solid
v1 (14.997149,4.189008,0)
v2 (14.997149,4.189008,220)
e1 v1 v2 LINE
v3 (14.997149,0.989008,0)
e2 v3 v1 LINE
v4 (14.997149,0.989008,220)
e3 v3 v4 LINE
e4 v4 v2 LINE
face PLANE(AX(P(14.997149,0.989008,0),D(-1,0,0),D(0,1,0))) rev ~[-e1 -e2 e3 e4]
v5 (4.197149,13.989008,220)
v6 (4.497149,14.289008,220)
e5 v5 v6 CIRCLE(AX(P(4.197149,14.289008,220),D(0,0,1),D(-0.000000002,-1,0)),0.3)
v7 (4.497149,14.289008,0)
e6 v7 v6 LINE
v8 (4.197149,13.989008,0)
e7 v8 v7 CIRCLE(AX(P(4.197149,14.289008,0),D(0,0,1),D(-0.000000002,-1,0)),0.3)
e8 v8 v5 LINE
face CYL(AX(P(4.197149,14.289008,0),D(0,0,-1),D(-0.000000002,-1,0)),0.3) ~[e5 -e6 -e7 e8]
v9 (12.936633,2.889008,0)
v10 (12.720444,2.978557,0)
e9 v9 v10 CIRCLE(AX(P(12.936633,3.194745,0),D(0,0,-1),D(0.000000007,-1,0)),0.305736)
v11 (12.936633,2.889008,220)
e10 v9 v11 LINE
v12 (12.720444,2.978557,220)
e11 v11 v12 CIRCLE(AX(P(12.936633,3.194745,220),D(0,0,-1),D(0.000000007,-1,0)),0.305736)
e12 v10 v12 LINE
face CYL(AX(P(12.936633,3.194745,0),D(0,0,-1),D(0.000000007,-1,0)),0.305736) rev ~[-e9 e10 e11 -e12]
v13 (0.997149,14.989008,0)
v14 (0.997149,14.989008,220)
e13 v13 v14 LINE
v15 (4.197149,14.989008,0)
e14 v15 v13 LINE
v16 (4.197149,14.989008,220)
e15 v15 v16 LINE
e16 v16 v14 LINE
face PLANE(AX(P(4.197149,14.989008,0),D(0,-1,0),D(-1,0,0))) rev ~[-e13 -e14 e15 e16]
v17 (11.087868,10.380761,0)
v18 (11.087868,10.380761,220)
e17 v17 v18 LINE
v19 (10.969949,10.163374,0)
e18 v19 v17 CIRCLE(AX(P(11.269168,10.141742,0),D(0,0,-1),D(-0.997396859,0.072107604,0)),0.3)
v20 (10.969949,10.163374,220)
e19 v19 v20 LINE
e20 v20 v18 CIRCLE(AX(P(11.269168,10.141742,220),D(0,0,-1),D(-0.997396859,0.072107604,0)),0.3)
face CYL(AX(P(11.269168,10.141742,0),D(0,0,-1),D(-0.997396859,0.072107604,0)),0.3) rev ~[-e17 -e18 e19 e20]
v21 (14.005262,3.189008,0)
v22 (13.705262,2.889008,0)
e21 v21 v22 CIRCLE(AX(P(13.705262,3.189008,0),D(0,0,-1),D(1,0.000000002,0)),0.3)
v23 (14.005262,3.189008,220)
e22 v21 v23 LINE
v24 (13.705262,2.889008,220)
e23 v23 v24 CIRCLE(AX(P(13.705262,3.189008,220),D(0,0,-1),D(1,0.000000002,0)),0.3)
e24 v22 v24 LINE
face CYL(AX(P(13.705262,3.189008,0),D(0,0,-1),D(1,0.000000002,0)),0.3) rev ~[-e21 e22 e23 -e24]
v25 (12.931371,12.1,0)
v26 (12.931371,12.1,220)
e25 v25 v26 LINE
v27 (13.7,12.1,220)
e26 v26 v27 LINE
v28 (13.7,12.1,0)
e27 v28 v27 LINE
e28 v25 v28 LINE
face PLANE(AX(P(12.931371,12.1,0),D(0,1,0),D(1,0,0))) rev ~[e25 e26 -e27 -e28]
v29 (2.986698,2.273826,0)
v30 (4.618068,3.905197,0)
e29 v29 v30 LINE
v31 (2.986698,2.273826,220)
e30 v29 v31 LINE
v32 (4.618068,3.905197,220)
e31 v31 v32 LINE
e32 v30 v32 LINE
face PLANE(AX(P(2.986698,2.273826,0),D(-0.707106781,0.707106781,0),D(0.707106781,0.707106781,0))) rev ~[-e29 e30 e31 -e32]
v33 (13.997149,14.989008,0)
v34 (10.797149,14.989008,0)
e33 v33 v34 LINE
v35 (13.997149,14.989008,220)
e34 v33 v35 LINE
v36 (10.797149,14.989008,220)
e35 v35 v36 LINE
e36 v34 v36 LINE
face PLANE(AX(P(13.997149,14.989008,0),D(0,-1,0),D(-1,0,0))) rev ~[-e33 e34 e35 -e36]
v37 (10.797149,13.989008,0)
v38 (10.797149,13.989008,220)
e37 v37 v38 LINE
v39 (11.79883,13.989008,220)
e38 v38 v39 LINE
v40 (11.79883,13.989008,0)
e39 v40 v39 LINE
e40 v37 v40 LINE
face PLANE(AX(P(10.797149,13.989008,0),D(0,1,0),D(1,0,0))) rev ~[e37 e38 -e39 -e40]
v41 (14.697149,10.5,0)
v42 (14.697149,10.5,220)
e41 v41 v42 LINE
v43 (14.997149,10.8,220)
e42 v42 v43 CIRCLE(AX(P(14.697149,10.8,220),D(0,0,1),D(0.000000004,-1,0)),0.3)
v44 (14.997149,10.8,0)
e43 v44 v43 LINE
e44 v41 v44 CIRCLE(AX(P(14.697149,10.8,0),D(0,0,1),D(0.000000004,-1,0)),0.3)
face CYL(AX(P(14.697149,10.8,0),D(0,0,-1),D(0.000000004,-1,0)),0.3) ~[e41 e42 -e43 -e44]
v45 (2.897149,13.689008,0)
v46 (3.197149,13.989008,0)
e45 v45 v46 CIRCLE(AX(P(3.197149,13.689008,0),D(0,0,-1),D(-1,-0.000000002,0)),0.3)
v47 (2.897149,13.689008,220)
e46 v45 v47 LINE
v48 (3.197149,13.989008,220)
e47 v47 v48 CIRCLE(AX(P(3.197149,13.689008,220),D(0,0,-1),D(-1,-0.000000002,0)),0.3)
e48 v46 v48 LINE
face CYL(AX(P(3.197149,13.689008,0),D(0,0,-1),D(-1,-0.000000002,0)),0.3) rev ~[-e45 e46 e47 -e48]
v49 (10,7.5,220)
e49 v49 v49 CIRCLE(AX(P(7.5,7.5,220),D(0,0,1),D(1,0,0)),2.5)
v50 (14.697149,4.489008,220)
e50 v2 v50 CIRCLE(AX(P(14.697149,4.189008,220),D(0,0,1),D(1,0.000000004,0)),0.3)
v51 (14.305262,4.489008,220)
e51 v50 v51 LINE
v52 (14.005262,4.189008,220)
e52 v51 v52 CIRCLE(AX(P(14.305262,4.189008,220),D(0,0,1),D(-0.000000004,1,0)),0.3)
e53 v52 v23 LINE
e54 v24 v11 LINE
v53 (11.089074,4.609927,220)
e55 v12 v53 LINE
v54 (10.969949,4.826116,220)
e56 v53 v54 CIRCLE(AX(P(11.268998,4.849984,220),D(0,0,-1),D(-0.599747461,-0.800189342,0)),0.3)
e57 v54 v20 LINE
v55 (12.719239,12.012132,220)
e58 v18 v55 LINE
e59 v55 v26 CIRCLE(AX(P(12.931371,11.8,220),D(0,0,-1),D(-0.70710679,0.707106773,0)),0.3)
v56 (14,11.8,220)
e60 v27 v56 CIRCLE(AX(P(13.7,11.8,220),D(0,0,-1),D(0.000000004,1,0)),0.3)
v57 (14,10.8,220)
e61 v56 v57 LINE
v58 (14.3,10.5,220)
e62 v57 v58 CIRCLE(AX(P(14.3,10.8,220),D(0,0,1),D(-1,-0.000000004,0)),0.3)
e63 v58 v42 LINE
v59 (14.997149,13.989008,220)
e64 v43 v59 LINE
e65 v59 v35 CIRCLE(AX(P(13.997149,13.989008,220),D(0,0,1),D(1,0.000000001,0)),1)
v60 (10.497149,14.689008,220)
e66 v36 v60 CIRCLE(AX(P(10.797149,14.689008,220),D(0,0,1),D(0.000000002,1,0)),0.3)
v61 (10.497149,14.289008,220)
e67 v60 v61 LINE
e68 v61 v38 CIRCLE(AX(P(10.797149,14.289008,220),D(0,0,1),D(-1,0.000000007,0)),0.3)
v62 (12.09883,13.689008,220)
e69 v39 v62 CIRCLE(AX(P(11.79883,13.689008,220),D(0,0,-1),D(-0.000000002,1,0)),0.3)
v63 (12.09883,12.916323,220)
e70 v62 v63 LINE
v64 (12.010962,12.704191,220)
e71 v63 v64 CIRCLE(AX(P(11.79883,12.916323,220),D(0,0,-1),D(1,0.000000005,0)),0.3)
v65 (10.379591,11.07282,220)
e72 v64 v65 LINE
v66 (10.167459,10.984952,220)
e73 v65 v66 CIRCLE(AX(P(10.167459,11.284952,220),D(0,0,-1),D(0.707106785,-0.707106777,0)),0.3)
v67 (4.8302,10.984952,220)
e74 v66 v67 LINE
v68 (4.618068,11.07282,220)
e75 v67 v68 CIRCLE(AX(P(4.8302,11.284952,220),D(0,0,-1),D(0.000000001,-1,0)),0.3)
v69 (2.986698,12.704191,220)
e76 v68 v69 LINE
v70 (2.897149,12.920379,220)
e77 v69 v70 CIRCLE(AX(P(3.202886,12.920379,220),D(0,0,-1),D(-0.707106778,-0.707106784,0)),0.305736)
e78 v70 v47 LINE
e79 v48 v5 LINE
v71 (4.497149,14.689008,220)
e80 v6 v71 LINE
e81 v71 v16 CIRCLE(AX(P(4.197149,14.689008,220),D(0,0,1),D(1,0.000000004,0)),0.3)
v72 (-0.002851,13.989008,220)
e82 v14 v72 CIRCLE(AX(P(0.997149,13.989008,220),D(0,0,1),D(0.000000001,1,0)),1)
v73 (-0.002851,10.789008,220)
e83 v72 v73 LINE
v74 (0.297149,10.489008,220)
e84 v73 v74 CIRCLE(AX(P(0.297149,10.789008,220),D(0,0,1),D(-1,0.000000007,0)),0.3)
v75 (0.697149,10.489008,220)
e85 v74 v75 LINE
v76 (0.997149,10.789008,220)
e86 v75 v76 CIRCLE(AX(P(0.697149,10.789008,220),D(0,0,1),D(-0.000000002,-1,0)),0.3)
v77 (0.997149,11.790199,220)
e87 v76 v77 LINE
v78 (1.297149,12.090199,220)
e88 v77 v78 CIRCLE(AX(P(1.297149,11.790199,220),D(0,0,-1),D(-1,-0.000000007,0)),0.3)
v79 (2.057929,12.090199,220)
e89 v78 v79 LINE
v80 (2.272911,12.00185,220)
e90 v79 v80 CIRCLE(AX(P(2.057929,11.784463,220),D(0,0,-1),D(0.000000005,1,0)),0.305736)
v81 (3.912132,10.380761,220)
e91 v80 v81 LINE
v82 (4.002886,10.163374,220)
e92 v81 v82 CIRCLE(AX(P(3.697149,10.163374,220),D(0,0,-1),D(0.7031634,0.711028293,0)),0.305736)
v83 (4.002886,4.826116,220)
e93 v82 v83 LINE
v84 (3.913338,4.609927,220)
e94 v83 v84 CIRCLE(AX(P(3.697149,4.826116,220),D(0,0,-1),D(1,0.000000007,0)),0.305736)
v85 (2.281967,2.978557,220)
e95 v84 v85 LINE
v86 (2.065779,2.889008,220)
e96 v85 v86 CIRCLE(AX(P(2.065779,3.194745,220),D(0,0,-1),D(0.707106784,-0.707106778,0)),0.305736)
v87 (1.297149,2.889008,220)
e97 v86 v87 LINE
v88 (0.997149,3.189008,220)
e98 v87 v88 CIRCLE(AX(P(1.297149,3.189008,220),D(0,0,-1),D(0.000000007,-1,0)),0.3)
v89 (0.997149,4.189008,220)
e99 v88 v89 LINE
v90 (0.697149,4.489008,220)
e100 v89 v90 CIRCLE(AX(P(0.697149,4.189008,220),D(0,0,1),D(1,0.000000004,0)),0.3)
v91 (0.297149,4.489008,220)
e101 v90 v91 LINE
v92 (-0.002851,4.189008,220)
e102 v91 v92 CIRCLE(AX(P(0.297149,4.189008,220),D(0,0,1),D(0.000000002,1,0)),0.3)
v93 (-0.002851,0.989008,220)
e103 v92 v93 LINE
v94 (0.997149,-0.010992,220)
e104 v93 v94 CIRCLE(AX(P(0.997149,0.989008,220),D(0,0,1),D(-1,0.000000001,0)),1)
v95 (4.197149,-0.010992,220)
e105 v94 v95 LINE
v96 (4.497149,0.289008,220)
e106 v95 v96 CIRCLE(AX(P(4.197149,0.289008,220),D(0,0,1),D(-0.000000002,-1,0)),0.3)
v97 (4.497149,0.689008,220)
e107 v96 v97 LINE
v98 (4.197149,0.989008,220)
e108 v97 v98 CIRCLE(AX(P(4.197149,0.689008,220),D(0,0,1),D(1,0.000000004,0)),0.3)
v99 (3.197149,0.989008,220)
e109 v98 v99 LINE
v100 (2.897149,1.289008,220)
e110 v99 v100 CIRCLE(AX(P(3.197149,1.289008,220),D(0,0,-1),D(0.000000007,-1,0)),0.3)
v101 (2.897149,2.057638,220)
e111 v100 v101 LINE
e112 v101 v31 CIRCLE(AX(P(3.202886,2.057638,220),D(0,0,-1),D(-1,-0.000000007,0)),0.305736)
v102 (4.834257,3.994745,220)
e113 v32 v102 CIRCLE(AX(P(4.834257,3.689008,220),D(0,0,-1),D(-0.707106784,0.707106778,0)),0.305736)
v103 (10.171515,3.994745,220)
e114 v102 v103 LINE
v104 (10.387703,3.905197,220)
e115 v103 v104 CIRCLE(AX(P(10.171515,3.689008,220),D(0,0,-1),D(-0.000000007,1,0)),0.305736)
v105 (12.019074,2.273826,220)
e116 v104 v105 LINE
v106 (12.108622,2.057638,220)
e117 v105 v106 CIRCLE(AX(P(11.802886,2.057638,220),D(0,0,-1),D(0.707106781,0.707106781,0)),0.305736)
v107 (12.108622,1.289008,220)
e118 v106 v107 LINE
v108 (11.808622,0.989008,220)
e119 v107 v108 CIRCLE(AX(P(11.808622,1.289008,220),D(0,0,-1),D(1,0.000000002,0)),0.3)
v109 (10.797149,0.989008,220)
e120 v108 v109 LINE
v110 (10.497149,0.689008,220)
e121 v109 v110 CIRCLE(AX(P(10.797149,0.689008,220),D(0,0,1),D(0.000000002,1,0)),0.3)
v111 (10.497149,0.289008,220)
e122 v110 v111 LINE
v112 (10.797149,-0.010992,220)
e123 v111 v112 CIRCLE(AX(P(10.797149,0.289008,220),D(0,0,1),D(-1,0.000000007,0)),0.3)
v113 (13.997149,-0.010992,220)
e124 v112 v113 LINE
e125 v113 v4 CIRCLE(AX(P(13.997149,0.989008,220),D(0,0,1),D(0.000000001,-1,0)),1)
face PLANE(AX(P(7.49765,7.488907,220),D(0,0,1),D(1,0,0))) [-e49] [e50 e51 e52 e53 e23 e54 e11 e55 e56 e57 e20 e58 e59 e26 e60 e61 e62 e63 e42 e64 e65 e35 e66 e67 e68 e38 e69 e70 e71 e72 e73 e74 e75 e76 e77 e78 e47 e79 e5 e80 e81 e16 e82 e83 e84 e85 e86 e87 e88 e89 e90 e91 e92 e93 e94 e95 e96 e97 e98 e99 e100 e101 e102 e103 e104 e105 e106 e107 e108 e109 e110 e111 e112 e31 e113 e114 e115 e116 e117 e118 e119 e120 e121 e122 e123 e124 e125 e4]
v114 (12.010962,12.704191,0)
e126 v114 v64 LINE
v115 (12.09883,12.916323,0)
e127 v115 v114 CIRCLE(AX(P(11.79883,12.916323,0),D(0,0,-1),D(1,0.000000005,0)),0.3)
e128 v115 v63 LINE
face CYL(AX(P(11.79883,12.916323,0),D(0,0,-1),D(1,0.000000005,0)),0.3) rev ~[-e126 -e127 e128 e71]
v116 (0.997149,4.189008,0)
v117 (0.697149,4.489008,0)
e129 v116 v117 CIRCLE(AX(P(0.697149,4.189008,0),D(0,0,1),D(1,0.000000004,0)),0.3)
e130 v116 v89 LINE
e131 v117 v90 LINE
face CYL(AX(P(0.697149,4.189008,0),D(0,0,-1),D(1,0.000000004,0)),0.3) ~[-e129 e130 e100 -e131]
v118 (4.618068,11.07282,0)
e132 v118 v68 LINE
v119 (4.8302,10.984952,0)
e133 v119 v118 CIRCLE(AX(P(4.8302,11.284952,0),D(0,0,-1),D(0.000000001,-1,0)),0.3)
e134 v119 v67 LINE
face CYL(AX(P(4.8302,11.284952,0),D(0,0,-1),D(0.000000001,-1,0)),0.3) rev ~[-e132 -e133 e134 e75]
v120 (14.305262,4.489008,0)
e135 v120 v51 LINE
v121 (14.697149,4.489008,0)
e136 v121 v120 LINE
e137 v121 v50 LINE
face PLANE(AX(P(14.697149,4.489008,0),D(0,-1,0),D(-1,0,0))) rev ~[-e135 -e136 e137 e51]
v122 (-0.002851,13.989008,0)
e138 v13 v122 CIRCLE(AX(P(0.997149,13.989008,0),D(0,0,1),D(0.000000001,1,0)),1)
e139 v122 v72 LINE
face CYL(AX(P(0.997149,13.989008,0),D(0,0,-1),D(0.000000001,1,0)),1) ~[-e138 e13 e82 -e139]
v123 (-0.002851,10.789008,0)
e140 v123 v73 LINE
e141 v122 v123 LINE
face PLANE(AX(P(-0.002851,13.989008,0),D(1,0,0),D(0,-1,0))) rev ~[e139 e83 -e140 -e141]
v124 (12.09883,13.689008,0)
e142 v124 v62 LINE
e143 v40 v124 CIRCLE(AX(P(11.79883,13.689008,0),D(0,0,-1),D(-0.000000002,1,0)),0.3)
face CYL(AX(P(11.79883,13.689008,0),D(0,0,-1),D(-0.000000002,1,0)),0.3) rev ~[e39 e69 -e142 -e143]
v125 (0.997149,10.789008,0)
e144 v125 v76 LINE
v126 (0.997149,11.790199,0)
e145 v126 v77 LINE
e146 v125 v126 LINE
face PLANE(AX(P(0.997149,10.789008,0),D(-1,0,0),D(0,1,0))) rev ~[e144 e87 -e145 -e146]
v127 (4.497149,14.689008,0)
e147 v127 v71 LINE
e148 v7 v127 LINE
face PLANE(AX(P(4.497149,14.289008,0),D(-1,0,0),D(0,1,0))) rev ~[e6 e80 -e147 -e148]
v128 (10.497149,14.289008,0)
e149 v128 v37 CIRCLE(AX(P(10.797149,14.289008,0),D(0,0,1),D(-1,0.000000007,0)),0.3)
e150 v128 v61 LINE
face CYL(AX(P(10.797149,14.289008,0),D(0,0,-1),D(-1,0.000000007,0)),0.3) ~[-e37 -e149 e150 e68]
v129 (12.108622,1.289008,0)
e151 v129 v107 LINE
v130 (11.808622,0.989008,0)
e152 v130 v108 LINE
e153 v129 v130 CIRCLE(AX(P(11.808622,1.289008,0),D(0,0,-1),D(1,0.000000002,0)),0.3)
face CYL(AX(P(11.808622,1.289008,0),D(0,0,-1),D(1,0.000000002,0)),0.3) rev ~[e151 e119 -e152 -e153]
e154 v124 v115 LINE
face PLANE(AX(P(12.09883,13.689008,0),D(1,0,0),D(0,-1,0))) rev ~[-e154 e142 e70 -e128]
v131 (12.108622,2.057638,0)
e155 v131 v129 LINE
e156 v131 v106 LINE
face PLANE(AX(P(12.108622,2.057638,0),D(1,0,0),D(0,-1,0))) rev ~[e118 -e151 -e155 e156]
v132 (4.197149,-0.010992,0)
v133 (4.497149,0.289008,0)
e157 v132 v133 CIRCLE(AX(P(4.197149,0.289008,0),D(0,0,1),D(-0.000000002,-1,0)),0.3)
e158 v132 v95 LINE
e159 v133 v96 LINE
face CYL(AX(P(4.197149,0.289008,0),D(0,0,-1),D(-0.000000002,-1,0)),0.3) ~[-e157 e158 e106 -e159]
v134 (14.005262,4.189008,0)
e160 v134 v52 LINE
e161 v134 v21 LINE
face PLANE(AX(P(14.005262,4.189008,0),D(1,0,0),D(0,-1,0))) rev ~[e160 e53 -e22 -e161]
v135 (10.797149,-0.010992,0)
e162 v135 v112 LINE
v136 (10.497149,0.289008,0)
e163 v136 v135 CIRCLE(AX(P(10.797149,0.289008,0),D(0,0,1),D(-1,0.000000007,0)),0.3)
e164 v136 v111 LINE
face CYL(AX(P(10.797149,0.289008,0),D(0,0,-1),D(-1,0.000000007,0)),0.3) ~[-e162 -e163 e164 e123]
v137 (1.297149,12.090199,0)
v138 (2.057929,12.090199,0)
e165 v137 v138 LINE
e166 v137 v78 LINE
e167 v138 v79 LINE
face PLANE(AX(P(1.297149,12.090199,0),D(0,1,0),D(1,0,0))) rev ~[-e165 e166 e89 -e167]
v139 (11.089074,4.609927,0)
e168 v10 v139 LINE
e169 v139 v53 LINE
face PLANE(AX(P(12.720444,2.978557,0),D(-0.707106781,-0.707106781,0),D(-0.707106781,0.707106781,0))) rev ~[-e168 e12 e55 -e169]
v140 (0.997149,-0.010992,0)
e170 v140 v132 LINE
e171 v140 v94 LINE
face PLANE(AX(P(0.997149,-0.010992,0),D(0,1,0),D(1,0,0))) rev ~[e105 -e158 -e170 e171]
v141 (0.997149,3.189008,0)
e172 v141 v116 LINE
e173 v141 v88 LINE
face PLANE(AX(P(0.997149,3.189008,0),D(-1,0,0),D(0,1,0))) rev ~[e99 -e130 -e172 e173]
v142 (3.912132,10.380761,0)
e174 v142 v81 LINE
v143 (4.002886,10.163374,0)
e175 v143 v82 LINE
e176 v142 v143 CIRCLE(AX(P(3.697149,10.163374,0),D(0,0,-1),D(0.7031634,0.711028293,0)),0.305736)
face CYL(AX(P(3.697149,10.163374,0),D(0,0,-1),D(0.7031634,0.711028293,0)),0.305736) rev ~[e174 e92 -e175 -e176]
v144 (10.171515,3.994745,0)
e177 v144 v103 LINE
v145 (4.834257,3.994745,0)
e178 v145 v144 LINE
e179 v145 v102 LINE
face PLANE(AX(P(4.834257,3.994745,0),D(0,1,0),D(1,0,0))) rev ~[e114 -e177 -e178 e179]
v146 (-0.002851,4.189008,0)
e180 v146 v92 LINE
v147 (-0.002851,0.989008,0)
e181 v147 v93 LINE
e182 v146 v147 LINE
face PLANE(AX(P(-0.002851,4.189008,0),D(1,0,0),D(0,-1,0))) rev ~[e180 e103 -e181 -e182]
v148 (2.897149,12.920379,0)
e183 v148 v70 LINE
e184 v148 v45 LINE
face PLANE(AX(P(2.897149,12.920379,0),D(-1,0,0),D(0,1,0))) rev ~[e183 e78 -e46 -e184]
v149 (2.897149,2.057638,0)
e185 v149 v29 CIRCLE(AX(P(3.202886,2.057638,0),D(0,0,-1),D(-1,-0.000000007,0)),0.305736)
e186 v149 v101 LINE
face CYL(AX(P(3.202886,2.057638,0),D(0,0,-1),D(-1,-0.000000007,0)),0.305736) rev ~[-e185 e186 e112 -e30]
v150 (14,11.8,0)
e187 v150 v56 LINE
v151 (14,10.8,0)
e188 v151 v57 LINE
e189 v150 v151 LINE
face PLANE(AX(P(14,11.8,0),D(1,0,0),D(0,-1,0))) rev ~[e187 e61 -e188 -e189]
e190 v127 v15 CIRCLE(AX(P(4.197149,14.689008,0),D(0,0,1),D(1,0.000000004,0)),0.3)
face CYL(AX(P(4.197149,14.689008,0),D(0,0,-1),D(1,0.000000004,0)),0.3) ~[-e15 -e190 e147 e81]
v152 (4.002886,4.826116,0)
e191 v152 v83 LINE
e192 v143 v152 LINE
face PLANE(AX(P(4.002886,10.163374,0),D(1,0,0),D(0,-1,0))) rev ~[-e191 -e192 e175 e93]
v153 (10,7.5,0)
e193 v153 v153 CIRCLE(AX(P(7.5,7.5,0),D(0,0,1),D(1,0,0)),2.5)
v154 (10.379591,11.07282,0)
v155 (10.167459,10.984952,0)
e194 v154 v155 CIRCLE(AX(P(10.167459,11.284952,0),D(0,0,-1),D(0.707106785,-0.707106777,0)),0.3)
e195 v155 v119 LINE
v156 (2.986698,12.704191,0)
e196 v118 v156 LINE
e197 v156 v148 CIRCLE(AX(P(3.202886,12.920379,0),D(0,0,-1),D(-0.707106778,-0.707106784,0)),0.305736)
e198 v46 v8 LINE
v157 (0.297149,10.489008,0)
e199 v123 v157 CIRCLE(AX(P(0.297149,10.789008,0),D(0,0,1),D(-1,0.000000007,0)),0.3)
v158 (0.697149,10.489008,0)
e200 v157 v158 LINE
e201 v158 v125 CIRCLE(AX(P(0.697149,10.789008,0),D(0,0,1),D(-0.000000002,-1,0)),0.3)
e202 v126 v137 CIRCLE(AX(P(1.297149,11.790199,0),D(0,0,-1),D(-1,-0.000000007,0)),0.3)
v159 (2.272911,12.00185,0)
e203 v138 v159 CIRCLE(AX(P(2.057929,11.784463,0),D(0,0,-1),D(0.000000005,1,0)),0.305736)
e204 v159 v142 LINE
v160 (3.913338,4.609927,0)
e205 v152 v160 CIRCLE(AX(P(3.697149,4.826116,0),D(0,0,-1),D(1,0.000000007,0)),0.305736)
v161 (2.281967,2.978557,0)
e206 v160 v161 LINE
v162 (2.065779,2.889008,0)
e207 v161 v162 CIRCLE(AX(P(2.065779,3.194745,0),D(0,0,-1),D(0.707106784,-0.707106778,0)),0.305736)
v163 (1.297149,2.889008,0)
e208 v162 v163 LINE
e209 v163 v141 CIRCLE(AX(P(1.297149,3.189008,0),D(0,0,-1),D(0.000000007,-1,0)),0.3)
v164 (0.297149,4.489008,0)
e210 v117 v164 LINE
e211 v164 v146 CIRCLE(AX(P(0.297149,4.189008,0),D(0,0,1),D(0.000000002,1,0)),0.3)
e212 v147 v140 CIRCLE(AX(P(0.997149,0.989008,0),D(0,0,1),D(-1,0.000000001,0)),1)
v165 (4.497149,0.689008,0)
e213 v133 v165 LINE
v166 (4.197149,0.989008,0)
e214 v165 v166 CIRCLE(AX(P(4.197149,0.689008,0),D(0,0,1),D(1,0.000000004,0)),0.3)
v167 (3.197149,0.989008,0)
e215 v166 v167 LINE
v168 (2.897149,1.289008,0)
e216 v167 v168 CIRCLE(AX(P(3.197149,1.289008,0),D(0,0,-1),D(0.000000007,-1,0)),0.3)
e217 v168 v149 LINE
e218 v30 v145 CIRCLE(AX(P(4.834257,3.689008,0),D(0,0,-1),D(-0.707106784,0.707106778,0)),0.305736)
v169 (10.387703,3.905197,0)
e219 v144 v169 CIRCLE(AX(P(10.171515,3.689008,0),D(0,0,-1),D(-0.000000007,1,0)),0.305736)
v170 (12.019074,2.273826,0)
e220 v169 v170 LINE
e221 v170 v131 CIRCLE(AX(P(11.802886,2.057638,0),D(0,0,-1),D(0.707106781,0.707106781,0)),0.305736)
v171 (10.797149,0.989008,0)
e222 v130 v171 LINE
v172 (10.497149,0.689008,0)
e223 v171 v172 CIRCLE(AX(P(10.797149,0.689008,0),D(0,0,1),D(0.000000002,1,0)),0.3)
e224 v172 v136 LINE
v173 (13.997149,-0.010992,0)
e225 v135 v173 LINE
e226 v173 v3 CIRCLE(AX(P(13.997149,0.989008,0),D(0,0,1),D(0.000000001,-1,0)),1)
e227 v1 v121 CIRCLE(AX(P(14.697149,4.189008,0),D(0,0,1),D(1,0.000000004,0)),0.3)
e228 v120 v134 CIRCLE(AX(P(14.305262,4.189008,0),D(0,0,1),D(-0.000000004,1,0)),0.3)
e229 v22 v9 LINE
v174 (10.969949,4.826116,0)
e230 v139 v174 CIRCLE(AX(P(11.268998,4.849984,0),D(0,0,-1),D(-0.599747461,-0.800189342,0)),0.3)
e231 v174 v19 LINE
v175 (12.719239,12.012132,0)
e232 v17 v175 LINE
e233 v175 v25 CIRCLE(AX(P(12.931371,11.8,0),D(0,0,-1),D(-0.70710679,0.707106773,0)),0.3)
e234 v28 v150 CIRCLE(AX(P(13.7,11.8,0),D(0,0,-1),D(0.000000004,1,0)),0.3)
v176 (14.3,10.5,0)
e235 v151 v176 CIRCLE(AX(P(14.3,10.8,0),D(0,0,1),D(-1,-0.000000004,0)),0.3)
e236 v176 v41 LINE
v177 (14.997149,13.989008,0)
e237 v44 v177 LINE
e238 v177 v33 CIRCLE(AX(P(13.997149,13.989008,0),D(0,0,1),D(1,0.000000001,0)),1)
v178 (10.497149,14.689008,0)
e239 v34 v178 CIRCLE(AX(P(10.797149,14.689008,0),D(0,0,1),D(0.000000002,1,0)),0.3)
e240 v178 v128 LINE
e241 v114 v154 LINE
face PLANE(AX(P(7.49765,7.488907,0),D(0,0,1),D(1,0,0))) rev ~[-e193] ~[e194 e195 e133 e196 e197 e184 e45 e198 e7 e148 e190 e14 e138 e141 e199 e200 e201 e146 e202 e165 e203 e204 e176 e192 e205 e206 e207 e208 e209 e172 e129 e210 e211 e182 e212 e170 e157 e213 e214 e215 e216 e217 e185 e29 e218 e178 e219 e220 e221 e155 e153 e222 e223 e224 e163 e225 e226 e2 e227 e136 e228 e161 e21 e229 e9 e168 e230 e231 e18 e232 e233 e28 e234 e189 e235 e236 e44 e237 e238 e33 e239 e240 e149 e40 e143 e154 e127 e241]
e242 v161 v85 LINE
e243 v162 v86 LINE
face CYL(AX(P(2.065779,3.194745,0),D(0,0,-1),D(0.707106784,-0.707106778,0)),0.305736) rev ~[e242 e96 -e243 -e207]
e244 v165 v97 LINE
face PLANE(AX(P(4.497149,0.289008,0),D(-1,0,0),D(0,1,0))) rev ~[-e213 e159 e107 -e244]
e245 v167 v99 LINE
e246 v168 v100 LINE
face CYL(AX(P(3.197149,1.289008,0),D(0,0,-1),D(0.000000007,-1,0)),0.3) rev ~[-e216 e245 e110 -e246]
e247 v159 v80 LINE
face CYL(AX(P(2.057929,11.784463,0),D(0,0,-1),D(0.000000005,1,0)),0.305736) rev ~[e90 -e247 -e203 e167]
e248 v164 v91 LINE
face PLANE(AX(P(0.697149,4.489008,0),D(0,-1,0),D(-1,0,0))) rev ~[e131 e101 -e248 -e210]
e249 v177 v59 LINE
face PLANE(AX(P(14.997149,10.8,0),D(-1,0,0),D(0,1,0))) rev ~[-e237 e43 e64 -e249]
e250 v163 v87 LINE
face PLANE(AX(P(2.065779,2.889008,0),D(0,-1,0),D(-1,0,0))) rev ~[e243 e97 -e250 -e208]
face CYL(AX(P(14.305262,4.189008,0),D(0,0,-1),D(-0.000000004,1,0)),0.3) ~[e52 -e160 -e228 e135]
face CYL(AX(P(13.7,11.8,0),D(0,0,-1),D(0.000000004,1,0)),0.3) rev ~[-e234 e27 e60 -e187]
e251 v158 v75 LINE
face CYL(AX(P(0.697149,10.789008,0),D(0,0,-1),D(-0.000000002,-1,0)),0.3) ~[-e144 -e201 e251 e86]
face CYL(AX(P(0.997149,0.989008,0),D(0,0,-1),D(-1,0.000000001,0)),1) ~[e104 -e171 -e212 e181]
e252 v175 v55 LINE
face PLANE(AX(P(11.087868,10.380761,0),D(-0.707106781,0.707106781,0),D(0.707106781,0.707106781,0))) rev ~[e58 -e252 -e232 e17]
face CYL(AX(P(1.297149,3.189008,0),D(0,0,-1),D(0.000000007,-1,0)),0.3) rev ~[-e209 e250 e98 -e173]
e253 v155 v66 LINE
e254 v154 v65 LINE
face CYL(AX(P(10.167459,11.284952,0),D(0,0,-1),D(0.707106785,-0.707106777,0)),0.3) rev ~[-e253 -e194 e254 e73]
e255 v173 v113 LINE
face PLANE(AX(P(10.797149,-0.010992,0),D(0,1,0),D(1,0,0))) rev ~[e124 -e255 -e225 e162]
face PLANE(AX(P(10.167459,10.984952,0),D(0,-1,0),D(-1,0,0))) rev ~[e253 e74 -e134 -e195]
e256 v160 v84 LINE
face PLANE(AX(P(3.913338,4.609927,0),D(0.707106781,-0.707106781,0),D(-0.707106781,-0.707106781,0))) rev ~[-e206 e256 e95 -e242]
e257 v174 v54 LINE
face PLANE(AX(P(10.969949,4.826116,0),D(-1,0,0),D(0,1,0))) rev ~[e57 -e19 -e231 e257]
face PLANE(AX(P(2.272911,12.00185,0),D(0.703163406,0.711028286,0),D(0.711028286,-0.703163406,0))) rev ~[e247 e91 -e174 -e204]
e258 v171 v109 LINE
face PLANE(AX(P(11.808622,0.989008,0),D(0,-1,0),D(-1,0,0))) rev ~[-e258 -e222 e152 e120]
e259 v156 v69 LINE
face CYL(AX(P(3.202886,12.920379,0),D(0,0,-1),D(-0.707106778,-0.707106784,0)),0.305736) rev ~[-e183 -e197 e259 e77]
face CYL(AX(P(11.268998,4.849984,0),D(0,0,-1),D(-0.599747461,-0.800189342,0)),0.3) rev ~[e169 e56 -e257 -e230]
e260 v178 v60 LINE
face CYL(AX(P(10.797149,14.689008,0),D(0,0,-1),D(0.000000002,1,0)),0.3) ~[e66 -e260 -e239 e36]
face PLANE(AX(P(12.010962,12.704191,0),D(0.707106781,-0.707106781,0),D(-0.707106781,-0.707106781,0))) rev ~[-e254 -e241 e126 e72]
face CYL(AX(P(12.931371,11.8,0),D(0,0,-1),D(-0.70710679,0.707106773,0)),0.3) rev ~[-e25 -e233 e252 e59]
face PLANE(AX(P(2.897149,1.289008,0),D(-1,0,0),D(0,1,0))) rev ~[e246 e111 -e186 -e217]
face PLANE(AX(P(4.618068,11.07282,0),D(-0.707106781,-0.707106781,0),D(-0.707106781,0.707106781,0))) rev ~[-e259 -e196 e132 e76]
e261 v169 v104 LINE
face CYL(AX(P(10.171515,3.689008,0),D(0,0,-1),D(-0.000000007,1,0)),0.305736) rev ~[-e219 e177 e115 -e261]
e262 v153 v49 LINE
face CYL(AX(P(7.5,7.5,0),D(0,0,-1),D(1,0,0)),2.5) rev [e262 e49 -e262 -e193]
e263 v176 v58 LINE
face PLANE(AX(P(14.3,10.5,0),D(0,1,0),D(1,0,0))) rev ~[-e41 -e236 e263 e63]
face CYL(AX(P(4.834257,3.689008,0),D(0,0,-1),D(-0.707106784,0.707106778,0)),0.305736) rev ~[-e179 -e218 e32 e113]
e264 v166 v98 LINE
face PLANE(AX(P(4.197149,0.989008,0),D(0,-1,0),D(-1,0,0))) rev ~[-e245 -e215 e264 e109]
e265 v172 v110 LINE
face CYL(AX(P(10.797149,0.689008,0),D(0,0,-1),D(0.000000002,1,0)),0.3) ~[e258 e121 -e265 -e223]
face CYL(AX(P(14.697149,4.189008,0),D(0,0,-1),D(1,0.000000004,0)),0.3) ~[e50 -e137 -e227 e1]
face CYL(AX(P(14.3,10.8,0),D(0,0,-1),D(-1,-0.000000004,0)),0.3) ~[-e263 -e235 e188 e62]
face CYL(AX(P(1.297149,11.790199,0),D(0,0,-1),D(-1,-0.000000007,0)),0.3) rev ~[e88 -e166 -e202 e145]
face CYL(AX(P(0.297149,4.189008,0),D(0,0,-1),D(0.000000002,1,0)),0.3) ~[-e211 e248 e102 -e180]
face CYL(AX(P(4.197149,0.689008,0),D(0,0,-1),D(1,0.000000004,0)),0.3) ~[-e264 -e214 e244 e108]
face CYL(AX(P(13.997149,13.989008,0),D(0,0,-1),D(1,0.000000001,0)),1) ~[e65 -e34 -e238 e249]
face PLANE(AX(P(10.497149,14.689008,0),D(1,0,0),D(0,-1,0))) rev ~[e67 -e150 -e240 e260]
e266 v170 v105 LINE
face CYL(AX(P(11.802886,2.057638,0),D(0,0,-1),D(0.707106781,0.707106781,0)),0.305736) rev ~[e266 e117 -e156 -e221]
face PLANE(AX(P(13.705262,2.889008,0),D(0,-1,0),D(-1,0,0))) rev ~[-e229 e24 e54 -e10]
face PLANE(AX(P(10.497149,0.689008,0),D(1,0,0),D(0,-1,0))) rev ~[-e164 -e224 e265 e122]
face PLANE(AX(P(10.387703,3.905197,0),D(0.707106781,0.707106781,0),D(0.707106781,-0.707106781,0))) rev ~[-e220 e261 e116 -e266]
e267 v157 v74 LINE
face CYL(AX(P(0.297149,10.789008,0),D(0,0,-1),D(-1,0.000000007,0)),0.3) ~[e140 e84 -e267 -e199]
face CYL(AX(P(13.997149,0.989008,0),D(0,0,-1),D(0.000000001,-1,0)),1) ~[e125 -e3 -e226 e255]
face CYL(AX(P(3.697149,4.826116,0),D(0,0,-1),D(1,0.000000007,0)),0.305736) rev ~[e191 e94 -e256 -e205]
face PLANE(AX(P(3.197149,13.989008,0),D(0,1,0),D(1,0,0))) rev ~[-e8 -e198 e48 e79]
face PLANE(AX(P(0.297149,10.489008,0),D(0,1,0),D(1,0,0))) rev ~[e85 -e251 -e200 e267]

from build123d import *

# Parameters (mm, degrees)
SKETCH1_R           = 2.5
BOSS_EXTRUDE1_DEPTH = 220


with BuildPart() as part:
    # Sketch1 → Boss-Extrude1 (new body)
    with BuildSketch(Plane.XY):
        with BuildLine():
            Line((0.997149379, -0.010991612), (4.197149379, -0.010991612))
            ThreePointArc((4.197149379, -0.010991612), (4.409281413, 0.076876353), (4.497149379, 0.289008388))
            Line((4.497149379, 0.289008388), (4.497149379, 0.689008388))
            ThreePointArc((4.497149379, 0.689008388), (4.409281413, 0.901140422), (4.197149379, 0.989008388))
            Line((4.197149379, 0.989008388), (3.197149379, 0.989008388))
            ThreePointArc((3.197149379, 0.989008388), (2.985017344, 1.076876353), (2.897149379, 1.289008388))
            Line((2.897149379, 1.289008388), (2.897149379, 2.057637538))
            ThreePointArc((2.897149379, 2.057637538), (2.920422177, 2.174637797), (2.9866975, 2.273825827))
            Line((2.9866975, 2.273825827), (4.61806835, 3.905196677))
            ThreePointArc((4.61806835, 3.905196677), (4.71725638, 3.971472), (4.834256639, 3.994744798))
            Line((4.834256639, 3.994744798), (10.171514939, 3.994744798))
            ThreePointArc((10.171514939, 3.994744798), (10.288515198, 3.971472), (10.387703228, 3.905196677))
            Line((10.387703228, 3.905196677), (12.019074078, 2.273825827))
            ThreePointArc((12.019074078, 2.273825827), (12.085349401, 2.174637797), (12.1086222, 2.057637538))
            Line((12.1086222, 2.057637538), (12.1086222, 1.289008388))
            ThreePointArc((12.1086222, 1.289008388), (12.020754234, 1.076876353), (11.8086222, 0.989008388))
            Line((11.8086222, 0.989008388), (10.797149379, 0.989008388))
            ThreePointArc((10.797149379, 0.989008388), (10.585017344, 0.901140422), (10.497149379, 0.689008388))
            Line((10.497149379, 0.689008388), (10.497149379, 0.289008388))
            ThreePointArc((10.497149379, 0.289008388), (10.585017344, 0.076876353), (10.797149379, -0.010991612))
            Line((10.797149379, -0.010991612), (13.997149379, -0.010991612))
            ThreePointArc((13.997149379, -0.010991612), (14.70425616, 0.281901607), (14.997149379, 0.989008388))
            Line((14.997149379, 0.989008388), (14.997149379, 4.189008388))
            ThreePointArc((14.997149379, 4.189008388), (14.909281413, 4.401140422), (14.697149379, 4.489008388))
            Line((14.697149379, 4.489008388), (14.305261888, 4.489008388))
            ThreePointArc((14.305261888, 4.489008388), (14.093129854, 4.401140422), (14.005261888, 4.189008388))
            Line((14.005261888, 4.189008388), (14.005261888, 3.189008388))
            ThreePointArc((14.005261888, 3.189008388), (13.917393922, 2.976876353), (13.705261888, 2.889008388))
            Line((13.705261888, 2.889008388), (12.936632738, 2.889008388))
            ThreePointArc((12.936632738, 2.889008388), (12.819632479, 2.912281186), (12.720444449, 2.978556509))
            Line((12.720444449, 2.978556509), (11.089073599, 4.609927359))
            ThreePointArc((11.089073599, 4.609927359), (11.006246661, 4.70520219), (10.969948855, 4.826115648))
            Line((10.969948855, 4.826115648), (10.969948855, 10.163373948))
            ThreePointArc((10.969948855, 10.163373948), (11.00546556, 10.284783861), (11.087867966, 10.380761184))
            Line((11.087867966, 10.380761184), (12.719238816, 12.012132034))
            ThreePointArc((12.719238816, 12.012132034), (12.81656582, 12.07716386), (12.93137085, 12.1))
            Line((12.93137085, 12.1), (13.7, 12.1))
            ThreePointArc((13.7, 12.1), (13.912132034, 12.012132034), (14, 11.8))
            Line((14, 11.8), (14, 10.8))
            ThreePointArc((14, 10.8), (14.087867966, 10.587867966), (14.3, 10.5))
            Line((14.3, 10.5), (14.697149379, 10.5))
            ThreePointArc((14.697149379, 10.5), (14.909281413, 10.587867966), (14.997149379, 10.8))
            Line((14.997149379, 10.8), (14.997149379, 13.989008388))
            ThreePointArc((14.997149379, 13.989008388), (14.70425616, 14.696115169), (13.997149379, 14.989008388))
            Line((13.997149379, 14.989008388), (10.797149379, 14.989008388))
            ThreePointArc((10.797149379, 14.989008388), (10.585017344, 14.901140422), (10.497149379, 14.689008388))
            Line((10.497149379, 14.689008388), (10.497149379, 14.289008388))
            ThreePointArc((10.497149379, 14.289008388), (10.585017344, 14.076876353), (10.797149379, 13.989008388))
            Line((10.797149379, 13.989008388), (11.798829534, 13.989008388))
            ThreePointArc((11.798829534, 13.989008388), (12.010961569, 13.901140422), (12.098829534, 13.689008388))
            Line((12.098829534, 13.689008388), (12.098829534, 12.916322983))
            ThreePointArc((12.098829534, 12.916322983), (12.075993394, 12.801517953), (12.010961569, 12.704190949))
            Line((12.010961569, 12.704190949), (10.379590719, 11.072820099))
            ThreePointArc((10.379590719, 11.072820099), (10.282263714, 11.007788273), (10.167458684, 10.984952133))
            Line((10.167458684, 10.984952133), (4.830200384, 10.984952133))
            ThreePointArc((4.830200384, 10.984952133), (4.715395355, 11.007788273), (4.61806835, 11.072820099))
            Line((4.61806835, 11.072820099), (2.9866975, 12.704190949))
            ThreePointArc((2.9866975, 12.704190949), (2.920422177, 12.803378979), (2.897149379, 12.920379238))
            Line((2.897149379, 12.920379238), (2.897149379, 13.689008388))
            ThreePointArc((2.897149379, 13.689008388), (2.985017344, 13.901140422), (3.197149379, 13.989008388))
            Line((3.197149379, 13.989008388), (4.197149379, 13.989008388))
            ThreePointArc((4.197149379, 13.989008388), (4.409281413, 14.076876353), (4.497149379, 14.289008388))
            Line((4.497149379, 14.289008388), (4.497149379, 14.689008388))
            ThreePointArc((4.497149379, 14.689008388), (4.409281413, 14.901140422), (4.197149379, 14.989008388))
            Line((4.197149379, 14.989008388), (0.997149379, 14.989008388))
            ThreePointArc((0.997149379, 14.989008388), (0.290042597, 14.696115169), (-0.002850621, 13.989008388))
            Line((-0.002850621, 13.989008388), (-0.002850621, 10.789008388))
            ThreePointArc((-0.002850621, 10.789008388), (0.085017344, 10.576876353), (0.297149379, 10.489008388))
            Line((0.297149379, 10.489008388), (0.697149379, 10.489008388))
            ThreePointArc((0.697149379, 10.489008388), (0.909281413, 10.576876353), (0.997149379, 10.789008388))
            Line((0.997149379, 10.789008388), (0.997149379, 11.790199043))
            ThreePointArc((0.997149379, 11.790199043), (1.085017344, 12.002331078), (1.297149379, 12.090199043))
            Line((1.297149379, 12.090199043), (2.057928823, 12.090199043))
            ThreePointArc((2.057928823, 12.090199043), (2.174143192, 12.067250491), (2.272911478, 12.001849869))
            Line((2.272911478, 12.001849869), (3.912132034, 10.380761184))
            ThreePointArc((3.912132034, 10.380761184), (3.97928656, 10.281159192), (4.002885789, 10.163373948))
            Line((4.002885789, 10.163373948), (4.002885789, 4.826115648))
            ThreePointArc((4.002885789, 4.826115648), (3.979612991, 4.709115389), (3.913337668, 4.609927359))
            Line((3.913337668, 4.609927359), (2.281966818, 2.978556509))
            ThreePointArc((2.281966818, 2.978556509), (2.182778788, 2.912281186), (2.065778529, 2.889008388))
            Line((2.065778529, 2.889008388), (1.297149379, 2.889008388))
            ThreePointArc((1.297149379, 2.889008388), (1.085017344, 2.976876353), (0.997149379, 3.189008388))
            Line((0.997149379, 3.189008388), (0.997149379, 4.189008388))
            ThreePointArc((0.997149379, 4.189008388), (0.909281413, 4.401140422), (0.697149379, 4.489008388))
            Line((0.697149379, 4.489008388), (0.297149379, 4.489008388))
            ThreePointArc((0.297149379, 4.489008388), (0.085017344, 4.401140422), (-0.002850621, 4.189008388))
            Line((-0.002850621, 4.189008388), (-0.002850621, 0.989008388))
            ThreePointArc((-0.002850621, 0.989008388), (0.290042597, 0.281901607), (0.997149379, -0.010991612))
        make_face()
        with Locations((7.5, 7.5)):
            Circle(SKETCH1_R, mode=Mode.SUBTRACT)
    extrude(amount=BOSS_EXTRUDE1_DEPTH)


solid = part.part
